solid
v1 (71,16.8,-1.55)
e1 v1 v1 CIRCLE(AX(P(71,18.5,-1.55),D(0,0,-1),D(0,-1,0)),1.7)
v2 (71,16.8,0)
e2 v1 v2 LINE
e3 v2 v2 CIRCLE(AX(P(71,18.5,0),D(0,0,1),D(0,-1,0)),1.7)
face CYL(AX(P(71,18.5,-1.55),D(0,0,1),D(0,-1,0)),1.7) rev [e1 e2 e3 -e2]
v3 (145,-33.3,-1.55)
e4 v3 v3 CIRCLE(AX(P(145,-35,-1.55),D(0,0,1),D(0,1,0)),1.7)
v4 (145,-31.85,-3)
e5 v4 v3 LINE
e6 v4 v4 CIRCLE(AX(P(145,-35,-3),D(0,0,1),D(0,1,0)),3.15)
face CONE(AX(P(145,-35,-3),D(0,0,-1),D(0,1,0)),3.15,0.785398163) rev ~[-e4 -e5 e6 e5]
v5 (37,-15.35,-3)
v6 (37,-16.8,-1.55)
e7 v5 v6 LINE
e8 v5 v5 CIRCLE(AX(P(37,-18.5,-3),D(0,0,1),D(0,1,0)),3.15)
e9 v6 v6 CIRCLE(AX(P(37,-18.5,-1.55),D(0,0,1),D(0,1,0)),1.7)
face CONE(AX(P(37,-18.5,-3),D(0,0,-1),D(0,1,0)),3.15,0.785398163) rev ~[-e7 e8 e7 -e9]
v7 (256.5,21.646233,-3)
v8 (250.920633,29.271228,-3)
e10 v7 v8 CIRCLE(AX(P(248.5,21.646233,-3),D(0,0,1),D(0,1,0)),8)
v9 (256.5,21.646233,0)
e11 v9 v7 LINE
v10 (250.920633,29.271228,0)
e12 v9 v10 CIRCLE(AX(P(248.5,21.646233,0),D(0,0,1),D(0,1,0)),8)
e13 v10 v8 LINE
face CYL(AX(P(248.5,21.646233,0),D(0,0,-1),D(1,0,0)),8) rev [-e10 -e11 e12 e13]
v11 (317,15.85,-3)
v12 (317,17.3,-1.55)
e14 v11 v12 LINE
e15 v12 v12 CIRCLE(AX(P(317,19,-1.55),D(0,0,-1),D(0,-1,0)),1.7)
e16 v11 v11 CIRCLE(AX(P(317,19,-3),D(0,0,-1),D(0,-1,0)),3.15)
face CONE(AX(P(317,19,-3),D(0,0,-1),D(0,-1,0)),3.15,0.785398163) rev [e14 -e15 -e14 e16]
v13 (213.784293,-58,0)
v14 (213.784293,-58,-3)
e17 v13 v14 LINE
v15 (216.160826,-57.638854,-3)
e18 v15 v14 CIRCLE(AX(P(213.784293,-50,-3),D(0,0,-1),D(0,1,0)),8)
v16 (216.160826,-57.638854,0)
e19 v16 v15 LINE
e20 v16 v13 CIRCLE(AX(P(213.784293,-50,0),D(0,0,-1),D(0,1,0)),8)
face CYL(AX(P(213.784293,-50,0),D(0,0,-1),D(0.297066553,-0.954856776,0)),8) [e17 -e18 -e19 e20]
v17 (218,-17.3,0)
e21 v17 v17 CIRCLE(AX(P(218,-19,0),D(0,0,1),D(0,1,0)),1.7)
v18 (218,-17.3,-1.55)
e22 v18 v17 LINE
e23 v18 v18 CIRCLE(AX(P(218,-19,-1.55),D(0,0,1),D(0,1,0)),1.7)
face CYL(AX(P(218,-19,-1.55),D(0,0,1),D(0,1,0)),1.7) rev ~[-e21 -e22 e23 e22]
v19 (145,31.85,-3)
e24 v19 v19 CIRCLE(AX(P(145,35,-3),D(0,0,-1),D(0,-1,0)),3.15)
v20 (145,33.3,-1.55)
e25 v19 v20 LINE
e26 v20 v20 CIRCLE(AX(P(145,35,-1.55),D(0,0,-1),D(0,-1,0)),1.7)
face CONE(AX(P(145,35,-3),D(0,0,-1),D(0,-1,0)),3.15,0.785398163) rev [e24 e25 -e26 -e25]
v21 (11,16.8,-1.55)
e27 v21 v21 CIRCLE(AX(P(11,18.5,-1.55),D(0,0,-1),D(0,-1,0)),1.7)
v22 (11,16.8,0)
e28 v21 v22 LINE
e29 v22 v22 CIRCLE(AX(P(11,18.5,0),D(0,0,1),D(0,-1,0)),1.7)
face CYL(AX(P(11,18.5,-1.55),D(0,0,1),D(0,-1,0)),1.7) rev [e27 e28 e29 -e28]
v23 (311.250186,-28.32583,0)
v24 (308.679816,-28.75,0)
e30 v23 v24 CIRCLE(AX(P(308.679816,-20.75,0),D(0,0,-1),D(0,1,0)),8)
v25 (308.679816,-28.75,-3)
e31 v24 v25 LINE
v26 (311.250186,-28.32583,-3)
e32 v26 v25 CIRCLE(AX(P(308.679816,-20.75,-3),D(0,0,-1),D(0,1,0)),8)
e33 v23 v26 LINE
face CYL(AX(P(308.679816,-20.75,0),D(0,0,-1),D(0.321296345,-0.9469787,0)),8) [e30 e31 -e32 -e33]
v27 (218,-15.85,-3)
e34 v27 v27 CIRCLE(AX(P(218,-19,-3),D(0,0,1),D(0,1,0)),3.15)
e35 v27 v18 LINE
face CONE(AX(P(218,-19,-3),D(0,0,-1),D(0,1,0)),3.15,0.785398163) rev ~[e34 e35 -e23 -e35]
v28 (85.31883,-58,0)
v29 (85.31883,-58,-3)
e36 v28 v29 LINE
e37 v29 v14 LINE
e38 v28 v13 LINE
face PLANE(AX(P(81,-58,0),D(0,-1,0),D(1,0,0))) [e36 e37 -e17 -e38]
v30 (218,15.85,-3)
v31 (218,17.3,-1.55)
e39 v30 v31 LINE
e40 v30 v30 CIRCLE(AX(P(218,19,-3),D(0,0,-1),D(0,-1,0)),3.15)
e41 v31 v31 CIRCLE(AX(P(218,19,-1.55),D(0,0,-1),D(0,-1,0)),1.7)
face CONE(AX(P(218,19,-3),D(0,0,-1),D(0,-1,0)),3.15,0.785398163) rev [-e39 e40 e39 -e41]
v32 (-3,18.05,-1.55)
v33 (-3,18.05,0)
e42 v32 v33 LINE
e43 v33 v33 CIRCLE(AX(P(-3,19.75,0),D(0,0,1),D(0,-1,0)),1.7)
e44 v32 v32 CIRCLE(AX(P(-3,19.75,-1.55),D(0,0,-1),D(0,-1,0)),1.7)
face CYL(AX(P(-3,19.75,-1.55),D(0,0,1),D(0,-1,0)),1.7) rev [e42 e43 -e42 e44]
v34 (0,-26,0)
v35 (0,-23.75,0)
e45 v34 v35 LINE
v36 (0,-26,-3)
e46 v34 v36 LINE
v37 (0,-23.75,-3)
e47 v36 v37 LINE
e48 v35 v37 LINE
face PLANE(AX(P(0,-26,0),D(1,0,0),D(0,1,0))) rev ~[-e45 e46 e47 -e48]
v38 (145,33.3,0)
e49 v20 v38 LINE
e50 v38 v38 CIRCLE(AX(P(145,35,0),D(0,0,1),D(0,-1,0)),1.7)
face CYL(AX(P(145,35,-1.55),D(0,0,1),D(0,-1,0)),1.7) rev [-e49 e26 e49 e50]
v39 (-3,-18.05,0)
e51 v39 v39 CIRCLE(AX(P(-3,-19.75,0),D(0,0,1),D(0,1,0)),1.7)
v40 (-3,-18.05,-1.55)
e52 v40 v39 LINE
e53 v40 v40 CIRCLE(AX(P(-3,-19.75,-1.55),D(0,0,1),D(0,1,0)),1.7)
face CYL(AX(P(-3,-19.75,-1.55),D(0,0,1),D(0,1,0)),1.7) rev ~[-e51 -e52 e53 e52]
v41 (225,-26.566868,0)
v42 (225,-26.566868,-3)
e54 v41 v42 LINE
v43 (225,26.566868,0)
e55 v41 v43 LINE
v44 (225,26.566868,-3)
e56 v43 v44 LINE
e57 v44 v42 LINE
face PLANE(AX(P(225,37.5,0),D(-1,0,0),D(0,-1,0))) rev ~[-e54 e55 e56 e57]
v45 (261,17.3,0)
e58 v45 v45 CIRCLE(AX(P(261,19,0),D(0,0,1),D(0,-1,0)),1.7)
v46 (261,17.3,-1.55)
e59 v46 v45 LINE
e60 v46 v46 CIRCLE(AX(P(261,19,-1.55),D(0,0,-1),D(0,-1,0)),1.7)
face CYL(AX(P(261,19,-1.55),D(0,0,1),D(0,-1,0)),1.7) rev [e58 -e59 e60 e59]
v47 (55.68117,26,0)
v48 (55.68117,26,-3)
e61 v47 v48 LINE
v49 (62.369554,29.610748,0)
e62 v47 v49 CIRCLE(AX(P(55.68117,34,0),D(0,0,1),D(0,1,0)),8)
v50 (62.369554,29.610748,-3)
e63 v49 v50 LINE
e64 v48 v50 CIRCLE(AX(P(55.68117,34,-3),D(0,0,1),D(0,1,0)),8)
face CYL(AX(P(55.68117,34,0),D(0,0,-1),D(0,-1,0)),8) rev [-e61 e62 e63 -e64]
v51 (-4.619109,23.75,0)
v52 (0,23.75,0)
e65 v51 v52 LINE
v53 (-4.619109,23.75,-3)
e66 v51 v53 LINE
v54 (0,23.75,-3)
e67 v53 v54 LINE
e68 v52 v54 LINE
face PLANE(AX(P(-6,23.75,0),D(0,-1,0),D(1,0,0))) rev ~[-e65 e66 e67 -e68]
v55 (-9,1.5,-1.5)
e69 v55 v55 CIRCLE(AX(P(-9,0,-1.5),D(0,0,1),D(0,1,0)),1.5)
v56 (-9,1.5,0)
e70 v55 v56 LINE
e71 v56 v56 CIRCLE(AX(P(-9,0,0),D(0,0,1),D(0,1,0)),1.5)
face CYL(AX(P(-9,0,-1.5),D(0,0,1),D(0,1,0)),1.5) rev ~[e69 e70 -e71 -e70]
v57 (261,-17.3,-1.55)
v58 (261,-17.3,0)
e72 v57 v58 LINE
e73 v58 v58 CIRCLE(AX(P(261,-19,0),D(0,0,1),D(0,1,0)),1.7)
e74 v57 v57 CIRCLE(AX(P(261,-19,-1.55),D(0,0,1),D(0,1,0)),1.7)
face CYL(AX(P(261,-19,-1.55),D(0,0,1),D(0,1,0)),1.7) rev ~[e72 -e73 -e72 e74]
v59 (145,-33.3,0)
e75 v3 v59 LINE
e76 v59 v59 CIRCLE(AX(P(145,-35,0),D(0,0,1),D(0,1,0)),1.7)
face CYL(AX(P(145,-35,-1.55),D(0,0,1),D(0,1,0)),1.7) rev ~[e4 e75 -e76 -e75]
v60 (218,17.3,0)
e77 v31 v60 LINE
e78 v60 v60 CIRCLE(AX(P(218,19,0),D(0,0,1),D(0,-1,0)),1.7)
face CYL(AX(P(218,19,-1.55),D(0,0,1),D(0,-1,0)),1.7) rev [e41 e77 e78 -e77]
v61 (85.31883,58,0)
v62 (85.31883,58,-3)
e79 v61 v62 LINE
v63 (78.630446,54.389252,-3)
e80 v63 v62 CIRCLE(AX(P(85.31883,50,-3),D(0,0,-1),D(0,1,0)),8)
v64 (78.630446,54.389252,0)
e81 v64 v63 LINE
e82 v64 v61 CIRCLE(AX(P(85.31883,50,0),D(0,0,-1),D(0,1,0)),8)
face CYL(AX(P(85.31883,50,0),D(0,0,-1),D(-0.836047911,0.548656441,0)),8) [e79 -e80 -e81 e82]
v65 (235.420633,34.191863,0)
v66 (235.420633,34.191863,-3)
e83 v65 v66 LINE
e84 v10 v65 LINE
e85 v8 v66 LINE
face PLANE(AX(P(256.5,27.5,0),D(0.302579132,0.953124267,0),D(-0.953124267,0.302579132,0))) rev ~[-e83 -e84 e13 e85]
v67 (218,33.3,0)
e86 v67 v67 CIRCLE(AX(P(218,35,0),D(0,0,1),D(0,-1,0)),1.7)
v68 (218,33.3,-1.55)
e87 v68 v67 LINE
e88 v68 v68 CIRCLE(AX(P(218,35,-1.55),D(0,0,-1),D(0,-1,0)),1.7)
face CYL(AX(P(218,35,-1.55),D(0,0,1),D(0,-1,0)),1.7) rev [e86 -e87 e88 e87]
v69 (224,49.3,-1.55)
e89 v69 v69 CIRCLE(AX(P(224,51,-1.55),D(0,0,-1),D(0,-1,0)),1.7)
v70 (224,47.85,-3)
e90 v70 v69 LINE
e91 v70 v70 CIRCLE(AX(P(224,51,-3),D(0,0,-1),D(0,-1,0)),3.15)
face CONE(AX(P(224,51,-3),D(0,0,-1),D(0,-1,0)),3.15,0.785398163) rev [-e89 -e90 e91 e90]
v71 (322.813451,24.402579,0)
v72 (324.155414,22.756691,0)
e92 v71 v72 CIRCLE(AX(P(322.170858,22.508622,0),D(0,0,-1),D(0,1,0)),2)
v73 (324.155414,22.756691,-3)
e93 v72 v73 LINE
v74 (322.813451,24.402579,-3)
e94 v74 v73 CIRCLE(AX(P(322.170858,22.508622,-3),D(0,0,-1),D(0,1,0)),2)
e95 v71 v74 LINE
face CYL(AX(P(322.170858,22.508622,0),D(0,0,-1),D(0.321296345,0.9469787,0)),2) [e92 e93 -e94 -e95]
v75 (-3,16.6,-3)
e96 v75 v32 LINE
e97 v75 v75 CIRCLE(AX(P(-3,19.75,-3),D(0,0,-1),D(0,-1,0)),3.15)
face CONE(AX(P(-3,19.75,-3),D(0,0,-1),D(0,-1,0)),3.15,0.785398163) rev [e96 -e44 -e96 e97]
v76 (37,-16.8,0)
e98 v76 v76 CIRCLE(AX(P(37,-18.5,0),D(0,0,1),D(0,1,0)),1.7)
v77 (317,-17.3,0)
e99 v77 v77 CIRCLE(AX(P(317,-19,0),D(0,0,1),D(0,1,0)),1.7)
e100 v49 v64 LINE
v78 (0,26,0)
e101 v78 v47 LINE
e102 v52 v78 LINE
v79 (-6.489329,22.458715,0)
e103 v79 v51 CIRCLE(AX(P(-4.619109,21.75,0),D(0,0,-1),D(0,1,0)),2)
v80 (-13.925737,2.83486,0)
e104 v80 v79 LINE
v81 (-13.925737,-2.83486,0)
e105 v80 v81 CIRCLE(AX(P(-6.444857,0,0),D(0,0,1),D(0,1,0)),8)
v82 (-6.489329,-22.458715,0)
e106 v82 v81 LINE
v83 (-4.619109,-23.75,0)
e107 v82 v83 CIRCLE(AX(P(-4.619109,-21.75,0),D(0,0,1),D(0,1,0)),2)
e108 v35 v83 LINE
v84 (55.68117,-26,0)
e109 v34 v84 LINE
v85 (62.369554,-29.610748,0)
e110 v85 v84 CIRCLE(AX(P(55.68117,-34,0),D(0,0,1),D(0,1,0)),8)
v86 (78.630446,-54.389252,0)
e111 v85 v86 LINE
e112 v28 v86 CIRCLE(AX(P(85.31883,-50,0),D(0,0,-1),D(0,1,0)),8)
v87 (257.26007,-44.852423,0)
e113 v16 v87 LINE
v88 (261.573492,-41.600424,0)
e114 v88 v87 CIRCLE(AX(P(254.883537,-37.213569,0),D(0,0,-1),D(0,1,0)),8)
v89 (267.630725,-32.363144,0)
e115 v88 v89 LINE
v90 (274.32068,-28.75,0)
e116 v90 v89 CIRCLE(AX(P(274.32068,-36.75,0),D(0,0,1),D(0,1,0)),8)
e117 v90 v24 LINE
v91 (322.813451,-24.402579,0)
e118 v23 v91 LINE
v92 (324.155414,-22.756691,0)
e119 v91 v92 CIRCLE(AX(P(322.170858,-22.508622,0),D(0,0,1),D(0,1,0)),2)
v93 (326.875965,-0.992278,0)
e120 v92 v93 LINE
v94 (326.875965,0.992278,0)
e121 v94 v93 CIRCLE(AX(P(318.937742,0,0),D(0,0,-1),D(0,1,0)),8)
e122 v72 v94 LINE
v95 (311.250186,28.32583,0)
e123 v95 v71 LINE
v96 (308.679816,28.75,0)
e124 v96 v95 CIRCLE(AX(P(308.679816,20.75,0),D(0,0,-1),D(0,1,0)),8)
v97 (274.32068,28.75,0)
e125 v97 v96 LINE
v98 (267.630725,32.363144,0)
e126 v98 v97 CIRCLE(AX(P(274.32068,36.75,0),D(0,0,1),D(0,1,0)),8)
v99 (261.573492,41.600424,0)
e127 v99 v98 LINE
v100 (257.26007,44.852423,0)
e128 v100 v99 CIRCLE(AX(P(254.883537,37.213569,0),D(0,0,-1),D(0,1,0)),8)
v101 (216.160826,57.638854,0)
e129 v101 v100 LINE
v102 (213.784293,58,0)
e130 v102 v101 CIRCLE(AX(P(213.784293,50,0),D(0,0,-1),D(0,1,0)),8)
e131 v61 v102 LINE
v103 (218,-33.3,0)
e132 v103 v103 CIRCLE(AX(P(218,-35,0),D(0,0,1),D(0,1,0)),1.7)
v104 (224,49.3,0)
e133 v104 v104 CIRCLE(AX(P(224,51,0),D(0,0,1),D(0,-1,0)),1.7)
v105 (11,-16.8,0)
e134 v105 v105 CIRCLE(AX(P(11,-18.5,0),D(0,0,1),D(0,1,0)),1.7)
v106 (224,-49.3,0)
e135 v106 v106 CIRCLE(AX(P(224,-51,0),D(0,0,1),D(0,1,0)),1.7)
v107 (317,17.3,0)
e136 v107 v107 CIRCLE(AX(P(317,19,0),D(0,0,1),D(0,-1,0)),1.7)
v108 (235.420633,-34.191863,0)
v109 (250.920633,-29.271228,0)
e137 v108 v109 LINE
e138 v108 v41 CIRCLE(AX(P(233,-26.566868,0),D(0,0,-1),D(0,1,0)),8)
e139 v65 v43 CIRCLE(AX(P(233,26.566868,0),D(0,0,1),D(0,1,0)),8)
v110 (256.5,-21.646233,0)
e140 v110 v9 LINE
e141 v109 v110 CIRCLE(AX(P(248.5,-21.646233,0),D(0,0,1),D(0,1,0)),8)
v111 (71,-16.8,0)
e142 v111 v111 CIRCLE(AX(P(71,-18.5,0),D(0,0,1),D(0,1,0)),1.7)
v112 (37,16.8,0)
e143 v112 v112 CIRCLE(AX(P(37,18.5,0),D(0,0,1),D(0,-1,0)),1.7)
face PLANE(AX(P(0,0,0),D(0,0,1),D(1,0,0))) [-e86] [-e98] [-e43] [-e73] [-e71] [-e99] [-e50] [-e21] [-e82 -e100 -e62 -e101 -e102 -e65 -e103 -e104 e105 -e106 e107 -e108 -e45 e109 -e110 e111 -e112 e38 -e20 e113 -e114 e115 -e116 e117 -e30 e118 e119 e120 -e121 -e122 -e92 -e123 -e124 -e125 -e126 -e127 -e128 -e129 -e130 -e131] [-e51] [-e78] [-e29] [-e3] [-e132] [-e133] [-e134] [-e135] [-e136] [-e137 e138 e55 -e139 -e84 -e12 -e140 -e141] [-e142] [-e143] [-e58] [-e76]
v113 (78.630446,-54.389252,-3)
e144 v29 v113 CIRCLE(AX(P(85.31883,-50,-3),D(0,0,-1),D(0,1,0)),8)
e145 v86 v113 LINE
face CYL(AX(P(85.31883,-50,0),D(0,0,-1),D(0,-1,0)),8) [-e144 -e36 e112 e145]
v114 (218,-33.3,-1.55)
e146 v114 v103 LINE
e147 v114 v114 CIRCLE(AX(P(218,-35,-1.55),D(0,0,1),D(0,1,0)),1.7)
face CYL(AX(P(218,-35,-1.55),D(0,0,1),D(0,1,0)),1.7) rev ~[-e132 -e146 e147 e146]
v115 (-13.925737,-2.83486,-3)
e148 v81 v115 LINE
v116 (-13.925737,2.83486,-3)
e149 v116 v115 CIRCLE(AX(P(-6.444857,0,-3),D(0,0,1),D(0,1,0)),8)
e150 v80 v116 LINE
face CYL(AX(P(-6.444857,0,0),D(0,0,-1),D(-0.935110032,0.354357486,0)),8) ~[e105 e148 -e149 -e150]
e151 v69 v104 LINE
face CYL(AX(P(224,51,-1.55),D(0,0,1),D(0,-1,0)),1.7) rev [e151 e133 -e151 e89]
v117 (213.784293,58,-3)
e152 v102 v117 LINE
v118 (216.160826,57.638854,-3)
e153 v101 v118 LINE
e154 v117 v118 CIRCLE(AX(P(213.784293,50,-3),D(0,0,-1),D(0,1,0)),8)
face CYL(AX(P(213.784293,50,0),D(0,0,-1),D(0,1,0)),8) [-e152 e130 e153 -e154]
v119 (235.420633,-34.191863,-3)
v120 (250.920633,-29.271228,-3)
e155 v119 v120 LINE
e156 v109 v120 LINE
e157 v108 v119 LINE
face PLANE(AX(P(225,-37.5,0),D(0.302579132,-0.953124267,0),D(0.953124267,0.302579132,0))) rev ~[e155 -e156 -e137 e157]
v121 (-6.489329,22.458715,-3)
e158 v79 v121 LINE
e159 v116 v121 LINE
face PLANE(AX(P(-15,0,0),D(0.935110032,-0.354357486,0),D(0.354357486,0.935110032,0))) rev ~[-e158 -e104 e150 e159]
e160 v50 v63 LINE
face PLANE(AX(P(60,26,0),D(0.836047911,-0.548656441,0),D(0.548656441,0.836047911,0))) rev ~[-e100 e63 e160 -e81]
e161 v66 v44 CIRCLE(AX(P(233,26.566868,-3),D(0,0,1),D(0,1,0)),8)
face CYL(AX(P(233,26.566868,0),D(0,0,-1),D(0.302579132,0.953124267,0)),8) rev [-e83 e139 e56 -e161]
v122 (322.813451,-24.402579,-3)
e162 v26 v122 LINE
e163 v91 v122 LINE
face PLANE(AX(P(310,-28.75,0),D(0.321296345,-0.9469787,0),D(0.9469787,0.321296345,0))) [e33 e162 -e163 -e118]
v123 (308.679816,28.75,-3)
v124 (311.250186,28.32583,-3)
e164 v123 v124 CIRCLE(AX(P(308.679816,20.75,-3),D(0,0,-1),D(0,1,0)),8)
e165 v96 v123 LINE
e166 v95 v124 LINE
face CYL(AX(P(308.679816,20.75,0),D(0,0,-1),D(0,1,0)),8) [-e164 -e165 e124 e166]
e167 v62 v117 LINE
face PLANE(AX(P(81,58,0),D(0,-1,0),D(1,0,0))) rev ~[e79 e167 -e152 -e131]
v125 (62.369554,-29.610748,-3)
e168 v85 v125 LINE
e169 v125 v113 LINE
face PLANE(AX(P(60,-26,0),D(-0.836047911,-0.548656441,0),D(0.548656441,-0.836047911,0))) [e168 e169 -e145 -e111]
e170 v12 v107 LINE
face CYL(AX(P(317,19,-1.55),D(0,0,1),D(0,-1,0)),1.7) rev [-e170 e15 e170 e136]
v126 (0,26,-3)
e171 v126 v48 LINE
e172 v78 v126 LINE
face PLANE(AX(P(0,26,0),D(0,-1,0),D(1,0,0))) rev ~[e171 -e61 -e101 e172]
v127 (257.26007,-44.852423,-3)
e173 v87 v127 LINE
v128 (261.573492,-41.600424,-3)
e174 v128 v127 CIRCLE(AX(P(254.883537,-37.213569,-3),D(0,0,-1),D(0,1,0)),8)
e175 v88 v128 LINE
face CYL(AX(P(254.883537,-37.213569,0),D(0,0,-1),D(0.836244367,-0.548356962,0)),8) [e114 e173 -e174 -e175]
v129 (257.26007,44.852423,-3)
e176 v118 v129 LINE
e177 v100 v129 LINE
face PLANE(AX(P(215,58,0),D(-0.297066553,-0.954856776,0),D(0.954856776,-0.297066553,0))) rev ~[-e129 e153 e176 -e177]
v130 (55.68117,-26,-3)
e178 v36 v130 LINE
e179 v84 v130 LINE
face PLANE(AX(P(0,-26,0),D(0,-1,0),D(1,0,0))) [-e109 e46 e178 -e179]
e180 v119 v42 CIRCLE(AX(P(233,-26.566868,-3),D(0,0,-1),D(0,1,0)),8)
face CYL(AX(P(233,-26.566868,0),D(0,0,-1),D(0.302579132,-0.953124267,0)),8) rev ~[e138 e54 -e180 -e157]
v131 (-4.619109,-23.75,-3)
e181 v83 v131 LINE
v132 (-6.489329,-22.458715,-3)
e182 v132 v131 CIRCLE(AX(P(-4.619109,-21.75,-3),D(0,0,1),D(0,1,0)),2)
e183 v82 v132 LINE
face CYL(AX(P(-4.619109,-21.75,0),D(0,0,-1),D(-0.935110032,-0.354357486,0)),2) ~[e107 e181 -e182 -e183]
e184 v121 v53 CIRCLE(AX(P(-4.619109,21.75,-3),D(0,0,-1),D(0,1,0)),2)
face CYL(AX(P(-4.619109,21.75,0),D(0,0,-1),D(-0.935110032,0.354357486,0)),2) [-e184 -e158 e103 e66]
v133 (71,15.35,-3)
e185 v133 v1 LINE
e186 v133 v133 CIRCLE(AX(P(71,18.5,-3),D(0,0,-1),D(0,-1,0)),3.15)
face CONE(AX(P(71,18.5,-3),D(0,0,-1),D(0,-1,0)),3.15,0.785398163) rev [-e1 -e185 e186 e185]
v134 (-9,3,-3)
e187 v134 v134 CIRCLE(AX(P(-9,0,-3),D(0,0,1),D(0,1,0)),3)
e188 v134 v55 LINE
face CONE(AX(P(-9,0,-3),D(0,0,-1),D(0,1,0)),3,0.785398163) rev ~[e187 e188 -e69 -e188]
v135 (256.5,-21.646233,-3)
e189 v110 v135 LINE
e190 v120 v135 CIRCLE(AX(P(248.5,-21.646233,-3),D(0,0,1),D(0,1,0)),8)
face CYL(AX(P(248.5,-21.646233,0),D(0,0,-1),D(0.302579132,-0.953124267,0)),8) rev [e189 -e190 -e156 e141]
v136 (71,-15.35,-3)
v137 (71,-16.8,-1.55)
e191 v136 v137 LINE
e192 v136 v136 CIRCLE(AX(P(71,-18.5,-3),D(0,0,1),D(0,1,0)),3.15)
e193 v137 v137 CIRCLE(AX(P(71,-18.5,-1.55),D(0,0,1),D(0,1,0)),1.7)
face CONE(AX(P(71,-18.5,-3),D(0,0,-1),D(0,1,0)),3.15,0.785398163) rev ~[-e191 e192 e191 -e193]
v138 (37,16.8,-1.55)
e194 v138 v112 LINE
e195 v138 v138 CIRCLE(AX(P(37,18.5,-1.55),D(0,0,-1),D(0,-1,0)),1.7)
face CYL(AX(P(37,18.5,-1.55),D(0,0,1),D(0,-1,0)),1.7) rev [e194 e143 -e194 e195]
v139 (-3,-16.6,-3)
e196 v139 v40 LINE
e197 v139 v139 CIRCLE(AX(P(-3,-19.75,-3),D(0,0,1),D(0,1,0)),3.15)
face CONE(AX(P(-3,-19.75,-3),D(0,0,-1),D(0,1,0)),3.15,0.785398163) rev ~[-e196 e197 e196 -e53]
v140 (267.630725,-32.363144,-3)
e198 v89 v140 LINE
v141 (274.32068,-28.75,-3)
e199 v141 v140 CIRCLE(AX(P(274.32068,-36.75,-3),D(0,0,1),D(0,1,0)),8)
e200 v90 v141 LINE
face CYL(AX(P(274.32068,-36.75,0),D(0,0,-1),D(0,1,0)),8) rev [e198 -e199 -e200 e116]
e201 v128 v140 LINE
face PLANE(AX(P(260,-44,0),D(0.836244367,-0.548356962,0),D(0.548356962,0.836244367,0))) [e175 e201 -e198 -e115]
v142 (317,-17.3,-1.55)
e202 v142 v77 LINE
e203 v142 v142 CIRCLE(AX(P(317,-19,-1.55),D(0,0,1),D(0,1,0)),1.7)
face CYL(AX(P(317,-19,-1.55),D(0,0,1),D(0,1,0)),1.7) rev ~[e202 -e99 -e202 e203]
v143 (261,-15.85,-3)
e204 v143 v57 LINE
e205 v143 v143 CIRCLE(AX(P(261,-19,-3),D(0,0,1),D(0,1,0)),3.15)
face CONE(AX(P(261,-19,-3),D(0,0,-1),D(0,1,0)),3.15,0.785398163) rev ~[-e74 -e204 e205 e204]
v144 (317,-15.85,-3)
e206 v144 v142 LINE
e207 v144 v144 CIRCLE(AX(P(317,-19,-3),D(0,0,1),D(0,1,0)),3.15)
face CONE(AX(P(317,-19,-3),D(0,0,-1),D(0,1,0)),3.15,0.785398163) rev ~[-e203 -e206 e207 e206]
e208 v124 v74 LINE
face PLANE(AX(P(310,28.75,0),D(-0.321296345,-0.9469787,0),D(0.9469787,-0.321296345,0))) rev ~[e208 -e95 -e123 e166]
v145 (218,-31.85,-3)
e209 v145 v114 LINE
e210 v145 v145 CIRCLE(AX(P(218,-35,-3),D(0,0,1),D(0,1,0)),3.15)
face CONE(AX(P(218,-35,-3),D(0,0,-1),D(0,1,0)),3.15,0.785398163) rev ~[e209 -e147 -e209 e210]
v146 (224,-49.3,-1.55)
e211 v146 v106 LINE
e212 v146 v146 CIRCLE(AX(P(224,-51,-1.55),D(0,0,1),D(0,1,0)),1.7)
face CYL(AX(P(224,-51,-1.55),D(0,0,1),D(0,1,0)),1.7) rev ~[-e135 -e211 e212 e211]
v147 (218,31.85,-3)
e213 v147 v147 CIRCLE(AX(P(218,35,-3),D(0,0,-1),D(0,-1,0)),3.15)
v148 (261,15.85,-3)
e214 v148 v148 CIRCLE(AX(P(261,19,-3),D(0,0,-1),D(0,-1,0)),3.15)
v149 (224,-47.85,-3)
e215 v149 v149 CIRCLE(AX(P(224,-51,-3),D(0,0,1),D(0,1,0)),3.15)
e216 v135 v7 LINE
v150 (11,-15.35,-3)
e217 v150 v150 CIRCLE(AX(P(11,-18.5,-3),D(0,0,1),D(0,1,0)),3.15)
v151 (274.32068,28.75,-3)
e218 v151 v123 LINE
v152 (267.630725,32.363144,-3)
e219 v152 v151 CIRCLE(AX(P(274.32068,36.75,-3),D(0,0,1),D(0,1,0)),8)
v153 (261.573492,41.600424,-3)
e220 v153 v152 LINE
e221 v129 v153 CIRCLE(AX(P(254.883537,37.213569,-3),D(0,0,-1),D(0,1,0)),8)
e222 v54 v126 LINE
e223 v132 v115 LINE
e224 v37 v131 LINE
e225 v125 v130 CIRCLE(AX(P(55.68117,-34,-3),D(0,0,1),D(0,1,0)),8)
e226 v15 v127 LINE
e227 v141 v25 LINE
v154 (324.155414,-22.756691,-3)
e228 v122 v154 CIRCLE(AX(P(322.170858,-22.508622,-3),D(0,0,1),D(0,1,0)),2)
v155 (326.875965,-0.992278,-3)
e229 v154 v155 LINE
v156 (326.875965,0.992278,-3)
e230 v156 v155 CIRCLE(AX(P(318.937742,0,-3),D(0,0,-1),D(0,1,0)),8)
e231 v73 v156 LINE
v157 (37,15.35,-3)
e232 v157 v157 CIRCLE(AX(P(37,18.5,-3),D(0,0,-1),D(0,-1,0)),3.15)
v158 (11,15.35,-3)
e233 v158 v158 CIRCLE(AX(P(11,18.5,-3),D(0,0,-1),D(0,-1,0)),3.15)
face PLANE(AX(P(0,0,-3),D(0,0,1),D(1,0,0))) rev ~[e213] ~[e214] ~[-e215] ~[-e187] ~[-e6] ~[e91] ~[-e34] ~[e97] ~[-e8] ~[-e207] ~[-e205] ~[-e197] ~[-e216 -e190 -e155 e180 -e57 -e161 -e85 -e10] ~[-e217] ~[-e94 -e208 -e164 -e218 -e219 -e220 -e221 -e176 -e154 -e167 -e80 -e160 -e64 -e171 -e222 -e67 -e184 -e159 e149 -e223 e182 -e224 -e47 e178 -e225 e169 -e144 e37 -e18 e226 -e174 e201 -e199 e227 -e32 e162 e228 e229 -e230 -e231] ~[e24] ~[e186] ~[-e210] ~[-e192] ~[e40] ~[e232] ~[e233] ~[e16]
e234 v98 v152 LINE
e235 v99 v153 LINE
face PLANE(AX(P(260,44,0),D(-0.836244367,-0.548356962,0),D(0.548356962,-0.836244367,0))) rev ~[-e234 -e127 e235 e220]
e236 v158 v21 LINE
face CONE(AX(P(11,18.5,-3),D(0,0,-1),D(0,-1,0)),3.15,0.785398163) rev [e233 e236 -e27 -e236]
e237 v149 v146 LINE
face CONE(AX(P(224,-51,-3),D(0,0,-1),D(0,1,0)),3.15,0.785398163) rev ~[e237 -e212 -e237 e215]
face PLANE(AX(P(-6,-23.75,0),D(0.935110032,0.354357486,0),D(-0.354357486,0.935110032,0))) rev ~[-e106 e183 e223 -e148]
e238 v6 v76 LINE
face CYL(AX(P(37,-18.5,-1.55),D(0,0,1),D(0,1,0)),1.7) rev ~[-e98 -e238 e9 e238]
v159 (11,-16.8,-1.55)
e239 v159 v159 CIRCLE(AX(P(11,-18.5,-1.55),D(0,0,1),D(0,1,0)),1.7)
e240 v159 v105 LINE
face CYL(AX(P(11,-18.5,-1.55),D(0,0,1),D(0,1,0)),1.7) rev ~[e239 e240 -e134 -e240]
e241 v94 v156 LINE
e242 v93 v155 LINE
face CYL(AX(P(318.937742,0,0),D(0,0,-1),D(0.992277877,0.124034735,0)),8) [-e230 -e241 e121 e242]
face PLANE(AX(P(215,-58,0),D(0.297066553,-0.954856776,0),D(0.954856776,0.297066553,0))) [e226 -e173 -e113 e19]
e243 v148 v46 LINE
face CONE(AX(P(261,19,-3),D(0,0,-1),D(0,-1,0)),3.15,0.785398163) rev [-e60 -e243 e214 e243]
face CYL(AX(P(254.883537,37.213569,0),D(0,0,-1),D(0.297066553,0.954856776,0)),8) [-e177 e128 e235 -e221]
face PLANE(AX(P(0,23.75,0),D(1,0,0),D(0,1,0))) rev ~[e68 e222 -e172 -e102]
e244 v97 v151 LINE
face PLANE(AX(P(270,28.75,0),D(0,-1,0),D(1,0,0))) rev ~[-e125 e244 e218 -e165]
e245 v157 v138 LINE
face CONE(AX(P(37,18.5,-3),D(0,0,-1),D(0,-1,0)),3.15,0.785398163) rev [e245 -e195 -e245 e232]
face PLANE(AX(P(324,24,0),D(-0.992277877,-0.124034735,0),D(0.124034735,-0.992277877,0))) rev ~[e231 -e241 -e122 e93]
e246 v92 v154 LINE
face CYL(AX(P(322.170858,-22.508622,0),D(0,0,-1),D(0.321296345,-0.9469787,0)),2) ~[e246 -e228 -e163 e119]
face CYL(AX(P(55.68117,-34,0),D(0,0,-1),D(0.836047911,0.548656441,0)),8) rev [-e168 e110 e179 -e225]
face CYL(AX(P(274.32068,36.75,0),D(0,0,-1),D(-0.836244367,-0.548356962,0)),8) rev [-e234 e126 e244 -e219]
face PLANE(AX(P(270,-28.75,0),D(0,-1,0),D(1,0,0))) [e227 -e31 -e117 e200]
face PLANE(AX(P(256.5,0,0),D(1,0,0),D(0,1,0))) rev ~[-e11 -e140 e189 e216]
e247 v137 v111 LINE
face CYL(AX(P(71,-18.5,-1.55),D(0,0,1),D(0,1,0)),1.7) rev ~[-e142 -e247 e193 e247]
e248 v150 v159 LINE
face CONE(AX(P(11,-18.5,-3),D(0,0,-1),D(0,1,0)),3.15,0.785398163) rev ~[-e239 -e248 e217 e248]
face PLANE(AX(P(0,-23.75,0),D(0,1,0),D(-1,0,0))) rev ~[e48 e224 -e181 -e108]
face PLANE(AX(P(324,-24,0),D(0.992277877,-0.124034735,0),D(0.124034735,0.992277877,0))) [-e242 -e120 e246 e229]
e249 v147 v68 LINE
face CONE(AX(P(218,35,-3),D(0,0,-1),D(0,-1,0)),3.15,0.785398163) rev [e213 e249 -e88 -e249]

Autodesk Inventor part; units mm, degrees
ref_plane "YZ Plane" through (0, 0, 0) normal (1, 0, 0) x (0, 1, 0)
sketch "Sketch1" plane through (0, 0, 0) normal (0, 0, 1) x (1, 0, 0)
  line L0 (0, 0) -> (327, 0)
  line L1 (0, 0) -> (0, -26) construction
  line L2 (0, -26) -> (60, -26)
  line L3 (60, -26) -> (81, -58)
  line L4 (81, -58) -> (215, -58)
  line L5 (215, -58) -> (260, -44)
  line L6 (260, -44) -> (270, -28.75)
  line L7 (270, -28.75) -> (310, -28.75)
  line L8 (310, -28.75) -> (324, -24)
  line L9 (324, -24) -> (327, 0)
  line L10 (0, 26) -> (60, 26)
  line L11 (60, 26) -> (81, 58)
  line L12 (81, 58) -> (215, 58)
  line L13 (215, 58) -> (260, 44)
  line L14 (260, 44) -> (270, 28.75)
  line L15 (270, 28.75) -> (310, 28.75)
  line L16 (310, 28.75) -> (324, 24)
  line L17 (324, 24) -> (327, 0)
  line L18 (0, -26) -> (0, 26)
  line L19 (0, -23.75) -> (-6, -23.75)
  line L20 (-6, -23.75) -> (-15, 0)
  line L21 (-15, 0) -> (-6, 23.75)
  line L22 (-6, 23.75) -> (0, 23.75)
  line L23 (256.5, -27.5) -> (256.5, 27.5)
  line L24 (256.5, 27.5) -> (225, 37.5)
  line L25 (225, 37.5) -> (225, -37.5)
  line L26 (225, -37.5) -> (256.5, -27.5)
  point P0 (-9, 0)
  point P1 (0, 0)
  point P2 (-3, -19.75)
  point P3 (11, -18.5)
  point P4 (64, -13)
  point P5 (145, -35)
  point P6 (218, -35)
  point P7 (218, -19)
  point P8 (261, -19)
  point P9 (317, -19)
  point P10 (224, -51)
  dimension "d1" = 26
  dimension "d2" = 60
  dimension "d3" = 58
  dimension "d4" = 28.75
  dimension "d6" = 24
  dimension "d9" = 44
  dimension "d15" = 15
  dimension "d16" = 6
  dimension "d19" = 47.5
  dimension "d20" = 256.5
  dimension "d21" = 75
  dimension "d22" = 55
  dimension "d23" = 31.5
  dimension "d24" = 81
  dimension "d25" = 215
  dimension "d26" = 260
  dimension "d27" = 270
  dimension "d28" = 310
  dimension "d29" = 324
  dimension "d30" = 327
  dimension "d190" = 9
  dimension "d191" = 3
  dimension "d192" = 4
  dimension "d193" = 7.5
  dimension "frhole0" = 11
  dimension "d195" = 13
  dimension "d196" = 64
  dimension "d197" = 23
  dimension "d198" = 145
  dimension "d199" = 73
  dimension "RF_Bulkhead" = 43
  dimension "RR_Bulkhead" = 56
  dimension "d242" = 1
  dimension "d243" = 7
  dimension "d244" = 7
  dimension "d245" = 39
ref_plane "Bottom" through (0, 0, -3) normal (0, 0, 1) x (1, 0, 0)
sketch "Hole_Centres" plane through (0, 0, -3) normal (0, 0, 1) x (1, 0, 0)
  point P0 (-9, 0)
  point P1 (-3, -19.75)
  point P2 (11, -18.5)
  point P3 (64, -13)
  point P4 (145, -35)
  point P5 (218, -19)
  point P6 (224, -51)
  point P7 (261, -19)
  point P8 (317, -19)
  point P9 (218, -35)
  point P10 (37, -18.5)
  point P11 (71, -18.5)
  dimension "frhole1" = 26
  dimension "frhole2" = 34
extrude "Extrusion1" add sketch "Sketch1" against normal blind 3
fillet "Fillet1" radius 8 14 edges at (60, 26, -1.5) (60, -26, -1.5) (81, -58, -1.5) (215, -58, -1.5) (260, -44, -1.5) (270, -28.75, -1.5) (260, 44, -1.5) (215, 58, -1.5) (81, 58, -1.5) (310, -28.75, -1.5) (310, 28.75, -1.5) (327, 0, -1.5) (-15, 0, -1.5) (270, 28.75, -1.5)
fillet "Fillet2" radius 2 4 edges at (-6, -23.75, -1.5) (-6, 23.75, -1.5) (324, -24, -1.5) (324, 24, -1.5)
ref_plane "5mm Inside" through (0, 0, 6) normal (0, 0, 1) x (1, 0, 0)
extrude "Extrusion10" cut sketch "Sketch1" along normal through all both and the other way through all contours L25 L24 L23 L0 | L0 L23 L26 L25
fillet "Fillet9" radius 8 4 edges at (225, -37.5, -1.5) (225, 37.5, -1.5) (256.5, 27.5, -1.5) (256.5, -27.5, -1.5)
hole "Hole2" at (-3, -19.75, -3) at (11, -18.5, -3) at (145, -35, -3) at (218, -19, -3) at (224, -51, -3) at (261, -19, -3) at (317, -19, -3) at (218, -35, -3) at (37, -18.5, -3) at (71, -18.5, -3) direction (0, 0, 1) diameter 3.4 end through all countersink diameter 6.3 countersink angle 90 clearance for "Flat Head Machine Screw" size "M3" standard "Ansi Metric M Profile"
mirror "Mirror6" about plane through (0, 0, 0) normal (0, 1, 0) of "Hole2"
hole "Hole3" at (-9, 0, -3) direction (0, 0, 1) diameter 3 end through all countersink diameter 6 countersink angle 90
equation "\"d99\" = d43"
equation "\"d101\" = d31"
equation "\"d43\" = 2"
equation "\"d31\" = 8"
properties part number "WSC2011_TP05_01_CHASSIS" material "ABS Plastic"
